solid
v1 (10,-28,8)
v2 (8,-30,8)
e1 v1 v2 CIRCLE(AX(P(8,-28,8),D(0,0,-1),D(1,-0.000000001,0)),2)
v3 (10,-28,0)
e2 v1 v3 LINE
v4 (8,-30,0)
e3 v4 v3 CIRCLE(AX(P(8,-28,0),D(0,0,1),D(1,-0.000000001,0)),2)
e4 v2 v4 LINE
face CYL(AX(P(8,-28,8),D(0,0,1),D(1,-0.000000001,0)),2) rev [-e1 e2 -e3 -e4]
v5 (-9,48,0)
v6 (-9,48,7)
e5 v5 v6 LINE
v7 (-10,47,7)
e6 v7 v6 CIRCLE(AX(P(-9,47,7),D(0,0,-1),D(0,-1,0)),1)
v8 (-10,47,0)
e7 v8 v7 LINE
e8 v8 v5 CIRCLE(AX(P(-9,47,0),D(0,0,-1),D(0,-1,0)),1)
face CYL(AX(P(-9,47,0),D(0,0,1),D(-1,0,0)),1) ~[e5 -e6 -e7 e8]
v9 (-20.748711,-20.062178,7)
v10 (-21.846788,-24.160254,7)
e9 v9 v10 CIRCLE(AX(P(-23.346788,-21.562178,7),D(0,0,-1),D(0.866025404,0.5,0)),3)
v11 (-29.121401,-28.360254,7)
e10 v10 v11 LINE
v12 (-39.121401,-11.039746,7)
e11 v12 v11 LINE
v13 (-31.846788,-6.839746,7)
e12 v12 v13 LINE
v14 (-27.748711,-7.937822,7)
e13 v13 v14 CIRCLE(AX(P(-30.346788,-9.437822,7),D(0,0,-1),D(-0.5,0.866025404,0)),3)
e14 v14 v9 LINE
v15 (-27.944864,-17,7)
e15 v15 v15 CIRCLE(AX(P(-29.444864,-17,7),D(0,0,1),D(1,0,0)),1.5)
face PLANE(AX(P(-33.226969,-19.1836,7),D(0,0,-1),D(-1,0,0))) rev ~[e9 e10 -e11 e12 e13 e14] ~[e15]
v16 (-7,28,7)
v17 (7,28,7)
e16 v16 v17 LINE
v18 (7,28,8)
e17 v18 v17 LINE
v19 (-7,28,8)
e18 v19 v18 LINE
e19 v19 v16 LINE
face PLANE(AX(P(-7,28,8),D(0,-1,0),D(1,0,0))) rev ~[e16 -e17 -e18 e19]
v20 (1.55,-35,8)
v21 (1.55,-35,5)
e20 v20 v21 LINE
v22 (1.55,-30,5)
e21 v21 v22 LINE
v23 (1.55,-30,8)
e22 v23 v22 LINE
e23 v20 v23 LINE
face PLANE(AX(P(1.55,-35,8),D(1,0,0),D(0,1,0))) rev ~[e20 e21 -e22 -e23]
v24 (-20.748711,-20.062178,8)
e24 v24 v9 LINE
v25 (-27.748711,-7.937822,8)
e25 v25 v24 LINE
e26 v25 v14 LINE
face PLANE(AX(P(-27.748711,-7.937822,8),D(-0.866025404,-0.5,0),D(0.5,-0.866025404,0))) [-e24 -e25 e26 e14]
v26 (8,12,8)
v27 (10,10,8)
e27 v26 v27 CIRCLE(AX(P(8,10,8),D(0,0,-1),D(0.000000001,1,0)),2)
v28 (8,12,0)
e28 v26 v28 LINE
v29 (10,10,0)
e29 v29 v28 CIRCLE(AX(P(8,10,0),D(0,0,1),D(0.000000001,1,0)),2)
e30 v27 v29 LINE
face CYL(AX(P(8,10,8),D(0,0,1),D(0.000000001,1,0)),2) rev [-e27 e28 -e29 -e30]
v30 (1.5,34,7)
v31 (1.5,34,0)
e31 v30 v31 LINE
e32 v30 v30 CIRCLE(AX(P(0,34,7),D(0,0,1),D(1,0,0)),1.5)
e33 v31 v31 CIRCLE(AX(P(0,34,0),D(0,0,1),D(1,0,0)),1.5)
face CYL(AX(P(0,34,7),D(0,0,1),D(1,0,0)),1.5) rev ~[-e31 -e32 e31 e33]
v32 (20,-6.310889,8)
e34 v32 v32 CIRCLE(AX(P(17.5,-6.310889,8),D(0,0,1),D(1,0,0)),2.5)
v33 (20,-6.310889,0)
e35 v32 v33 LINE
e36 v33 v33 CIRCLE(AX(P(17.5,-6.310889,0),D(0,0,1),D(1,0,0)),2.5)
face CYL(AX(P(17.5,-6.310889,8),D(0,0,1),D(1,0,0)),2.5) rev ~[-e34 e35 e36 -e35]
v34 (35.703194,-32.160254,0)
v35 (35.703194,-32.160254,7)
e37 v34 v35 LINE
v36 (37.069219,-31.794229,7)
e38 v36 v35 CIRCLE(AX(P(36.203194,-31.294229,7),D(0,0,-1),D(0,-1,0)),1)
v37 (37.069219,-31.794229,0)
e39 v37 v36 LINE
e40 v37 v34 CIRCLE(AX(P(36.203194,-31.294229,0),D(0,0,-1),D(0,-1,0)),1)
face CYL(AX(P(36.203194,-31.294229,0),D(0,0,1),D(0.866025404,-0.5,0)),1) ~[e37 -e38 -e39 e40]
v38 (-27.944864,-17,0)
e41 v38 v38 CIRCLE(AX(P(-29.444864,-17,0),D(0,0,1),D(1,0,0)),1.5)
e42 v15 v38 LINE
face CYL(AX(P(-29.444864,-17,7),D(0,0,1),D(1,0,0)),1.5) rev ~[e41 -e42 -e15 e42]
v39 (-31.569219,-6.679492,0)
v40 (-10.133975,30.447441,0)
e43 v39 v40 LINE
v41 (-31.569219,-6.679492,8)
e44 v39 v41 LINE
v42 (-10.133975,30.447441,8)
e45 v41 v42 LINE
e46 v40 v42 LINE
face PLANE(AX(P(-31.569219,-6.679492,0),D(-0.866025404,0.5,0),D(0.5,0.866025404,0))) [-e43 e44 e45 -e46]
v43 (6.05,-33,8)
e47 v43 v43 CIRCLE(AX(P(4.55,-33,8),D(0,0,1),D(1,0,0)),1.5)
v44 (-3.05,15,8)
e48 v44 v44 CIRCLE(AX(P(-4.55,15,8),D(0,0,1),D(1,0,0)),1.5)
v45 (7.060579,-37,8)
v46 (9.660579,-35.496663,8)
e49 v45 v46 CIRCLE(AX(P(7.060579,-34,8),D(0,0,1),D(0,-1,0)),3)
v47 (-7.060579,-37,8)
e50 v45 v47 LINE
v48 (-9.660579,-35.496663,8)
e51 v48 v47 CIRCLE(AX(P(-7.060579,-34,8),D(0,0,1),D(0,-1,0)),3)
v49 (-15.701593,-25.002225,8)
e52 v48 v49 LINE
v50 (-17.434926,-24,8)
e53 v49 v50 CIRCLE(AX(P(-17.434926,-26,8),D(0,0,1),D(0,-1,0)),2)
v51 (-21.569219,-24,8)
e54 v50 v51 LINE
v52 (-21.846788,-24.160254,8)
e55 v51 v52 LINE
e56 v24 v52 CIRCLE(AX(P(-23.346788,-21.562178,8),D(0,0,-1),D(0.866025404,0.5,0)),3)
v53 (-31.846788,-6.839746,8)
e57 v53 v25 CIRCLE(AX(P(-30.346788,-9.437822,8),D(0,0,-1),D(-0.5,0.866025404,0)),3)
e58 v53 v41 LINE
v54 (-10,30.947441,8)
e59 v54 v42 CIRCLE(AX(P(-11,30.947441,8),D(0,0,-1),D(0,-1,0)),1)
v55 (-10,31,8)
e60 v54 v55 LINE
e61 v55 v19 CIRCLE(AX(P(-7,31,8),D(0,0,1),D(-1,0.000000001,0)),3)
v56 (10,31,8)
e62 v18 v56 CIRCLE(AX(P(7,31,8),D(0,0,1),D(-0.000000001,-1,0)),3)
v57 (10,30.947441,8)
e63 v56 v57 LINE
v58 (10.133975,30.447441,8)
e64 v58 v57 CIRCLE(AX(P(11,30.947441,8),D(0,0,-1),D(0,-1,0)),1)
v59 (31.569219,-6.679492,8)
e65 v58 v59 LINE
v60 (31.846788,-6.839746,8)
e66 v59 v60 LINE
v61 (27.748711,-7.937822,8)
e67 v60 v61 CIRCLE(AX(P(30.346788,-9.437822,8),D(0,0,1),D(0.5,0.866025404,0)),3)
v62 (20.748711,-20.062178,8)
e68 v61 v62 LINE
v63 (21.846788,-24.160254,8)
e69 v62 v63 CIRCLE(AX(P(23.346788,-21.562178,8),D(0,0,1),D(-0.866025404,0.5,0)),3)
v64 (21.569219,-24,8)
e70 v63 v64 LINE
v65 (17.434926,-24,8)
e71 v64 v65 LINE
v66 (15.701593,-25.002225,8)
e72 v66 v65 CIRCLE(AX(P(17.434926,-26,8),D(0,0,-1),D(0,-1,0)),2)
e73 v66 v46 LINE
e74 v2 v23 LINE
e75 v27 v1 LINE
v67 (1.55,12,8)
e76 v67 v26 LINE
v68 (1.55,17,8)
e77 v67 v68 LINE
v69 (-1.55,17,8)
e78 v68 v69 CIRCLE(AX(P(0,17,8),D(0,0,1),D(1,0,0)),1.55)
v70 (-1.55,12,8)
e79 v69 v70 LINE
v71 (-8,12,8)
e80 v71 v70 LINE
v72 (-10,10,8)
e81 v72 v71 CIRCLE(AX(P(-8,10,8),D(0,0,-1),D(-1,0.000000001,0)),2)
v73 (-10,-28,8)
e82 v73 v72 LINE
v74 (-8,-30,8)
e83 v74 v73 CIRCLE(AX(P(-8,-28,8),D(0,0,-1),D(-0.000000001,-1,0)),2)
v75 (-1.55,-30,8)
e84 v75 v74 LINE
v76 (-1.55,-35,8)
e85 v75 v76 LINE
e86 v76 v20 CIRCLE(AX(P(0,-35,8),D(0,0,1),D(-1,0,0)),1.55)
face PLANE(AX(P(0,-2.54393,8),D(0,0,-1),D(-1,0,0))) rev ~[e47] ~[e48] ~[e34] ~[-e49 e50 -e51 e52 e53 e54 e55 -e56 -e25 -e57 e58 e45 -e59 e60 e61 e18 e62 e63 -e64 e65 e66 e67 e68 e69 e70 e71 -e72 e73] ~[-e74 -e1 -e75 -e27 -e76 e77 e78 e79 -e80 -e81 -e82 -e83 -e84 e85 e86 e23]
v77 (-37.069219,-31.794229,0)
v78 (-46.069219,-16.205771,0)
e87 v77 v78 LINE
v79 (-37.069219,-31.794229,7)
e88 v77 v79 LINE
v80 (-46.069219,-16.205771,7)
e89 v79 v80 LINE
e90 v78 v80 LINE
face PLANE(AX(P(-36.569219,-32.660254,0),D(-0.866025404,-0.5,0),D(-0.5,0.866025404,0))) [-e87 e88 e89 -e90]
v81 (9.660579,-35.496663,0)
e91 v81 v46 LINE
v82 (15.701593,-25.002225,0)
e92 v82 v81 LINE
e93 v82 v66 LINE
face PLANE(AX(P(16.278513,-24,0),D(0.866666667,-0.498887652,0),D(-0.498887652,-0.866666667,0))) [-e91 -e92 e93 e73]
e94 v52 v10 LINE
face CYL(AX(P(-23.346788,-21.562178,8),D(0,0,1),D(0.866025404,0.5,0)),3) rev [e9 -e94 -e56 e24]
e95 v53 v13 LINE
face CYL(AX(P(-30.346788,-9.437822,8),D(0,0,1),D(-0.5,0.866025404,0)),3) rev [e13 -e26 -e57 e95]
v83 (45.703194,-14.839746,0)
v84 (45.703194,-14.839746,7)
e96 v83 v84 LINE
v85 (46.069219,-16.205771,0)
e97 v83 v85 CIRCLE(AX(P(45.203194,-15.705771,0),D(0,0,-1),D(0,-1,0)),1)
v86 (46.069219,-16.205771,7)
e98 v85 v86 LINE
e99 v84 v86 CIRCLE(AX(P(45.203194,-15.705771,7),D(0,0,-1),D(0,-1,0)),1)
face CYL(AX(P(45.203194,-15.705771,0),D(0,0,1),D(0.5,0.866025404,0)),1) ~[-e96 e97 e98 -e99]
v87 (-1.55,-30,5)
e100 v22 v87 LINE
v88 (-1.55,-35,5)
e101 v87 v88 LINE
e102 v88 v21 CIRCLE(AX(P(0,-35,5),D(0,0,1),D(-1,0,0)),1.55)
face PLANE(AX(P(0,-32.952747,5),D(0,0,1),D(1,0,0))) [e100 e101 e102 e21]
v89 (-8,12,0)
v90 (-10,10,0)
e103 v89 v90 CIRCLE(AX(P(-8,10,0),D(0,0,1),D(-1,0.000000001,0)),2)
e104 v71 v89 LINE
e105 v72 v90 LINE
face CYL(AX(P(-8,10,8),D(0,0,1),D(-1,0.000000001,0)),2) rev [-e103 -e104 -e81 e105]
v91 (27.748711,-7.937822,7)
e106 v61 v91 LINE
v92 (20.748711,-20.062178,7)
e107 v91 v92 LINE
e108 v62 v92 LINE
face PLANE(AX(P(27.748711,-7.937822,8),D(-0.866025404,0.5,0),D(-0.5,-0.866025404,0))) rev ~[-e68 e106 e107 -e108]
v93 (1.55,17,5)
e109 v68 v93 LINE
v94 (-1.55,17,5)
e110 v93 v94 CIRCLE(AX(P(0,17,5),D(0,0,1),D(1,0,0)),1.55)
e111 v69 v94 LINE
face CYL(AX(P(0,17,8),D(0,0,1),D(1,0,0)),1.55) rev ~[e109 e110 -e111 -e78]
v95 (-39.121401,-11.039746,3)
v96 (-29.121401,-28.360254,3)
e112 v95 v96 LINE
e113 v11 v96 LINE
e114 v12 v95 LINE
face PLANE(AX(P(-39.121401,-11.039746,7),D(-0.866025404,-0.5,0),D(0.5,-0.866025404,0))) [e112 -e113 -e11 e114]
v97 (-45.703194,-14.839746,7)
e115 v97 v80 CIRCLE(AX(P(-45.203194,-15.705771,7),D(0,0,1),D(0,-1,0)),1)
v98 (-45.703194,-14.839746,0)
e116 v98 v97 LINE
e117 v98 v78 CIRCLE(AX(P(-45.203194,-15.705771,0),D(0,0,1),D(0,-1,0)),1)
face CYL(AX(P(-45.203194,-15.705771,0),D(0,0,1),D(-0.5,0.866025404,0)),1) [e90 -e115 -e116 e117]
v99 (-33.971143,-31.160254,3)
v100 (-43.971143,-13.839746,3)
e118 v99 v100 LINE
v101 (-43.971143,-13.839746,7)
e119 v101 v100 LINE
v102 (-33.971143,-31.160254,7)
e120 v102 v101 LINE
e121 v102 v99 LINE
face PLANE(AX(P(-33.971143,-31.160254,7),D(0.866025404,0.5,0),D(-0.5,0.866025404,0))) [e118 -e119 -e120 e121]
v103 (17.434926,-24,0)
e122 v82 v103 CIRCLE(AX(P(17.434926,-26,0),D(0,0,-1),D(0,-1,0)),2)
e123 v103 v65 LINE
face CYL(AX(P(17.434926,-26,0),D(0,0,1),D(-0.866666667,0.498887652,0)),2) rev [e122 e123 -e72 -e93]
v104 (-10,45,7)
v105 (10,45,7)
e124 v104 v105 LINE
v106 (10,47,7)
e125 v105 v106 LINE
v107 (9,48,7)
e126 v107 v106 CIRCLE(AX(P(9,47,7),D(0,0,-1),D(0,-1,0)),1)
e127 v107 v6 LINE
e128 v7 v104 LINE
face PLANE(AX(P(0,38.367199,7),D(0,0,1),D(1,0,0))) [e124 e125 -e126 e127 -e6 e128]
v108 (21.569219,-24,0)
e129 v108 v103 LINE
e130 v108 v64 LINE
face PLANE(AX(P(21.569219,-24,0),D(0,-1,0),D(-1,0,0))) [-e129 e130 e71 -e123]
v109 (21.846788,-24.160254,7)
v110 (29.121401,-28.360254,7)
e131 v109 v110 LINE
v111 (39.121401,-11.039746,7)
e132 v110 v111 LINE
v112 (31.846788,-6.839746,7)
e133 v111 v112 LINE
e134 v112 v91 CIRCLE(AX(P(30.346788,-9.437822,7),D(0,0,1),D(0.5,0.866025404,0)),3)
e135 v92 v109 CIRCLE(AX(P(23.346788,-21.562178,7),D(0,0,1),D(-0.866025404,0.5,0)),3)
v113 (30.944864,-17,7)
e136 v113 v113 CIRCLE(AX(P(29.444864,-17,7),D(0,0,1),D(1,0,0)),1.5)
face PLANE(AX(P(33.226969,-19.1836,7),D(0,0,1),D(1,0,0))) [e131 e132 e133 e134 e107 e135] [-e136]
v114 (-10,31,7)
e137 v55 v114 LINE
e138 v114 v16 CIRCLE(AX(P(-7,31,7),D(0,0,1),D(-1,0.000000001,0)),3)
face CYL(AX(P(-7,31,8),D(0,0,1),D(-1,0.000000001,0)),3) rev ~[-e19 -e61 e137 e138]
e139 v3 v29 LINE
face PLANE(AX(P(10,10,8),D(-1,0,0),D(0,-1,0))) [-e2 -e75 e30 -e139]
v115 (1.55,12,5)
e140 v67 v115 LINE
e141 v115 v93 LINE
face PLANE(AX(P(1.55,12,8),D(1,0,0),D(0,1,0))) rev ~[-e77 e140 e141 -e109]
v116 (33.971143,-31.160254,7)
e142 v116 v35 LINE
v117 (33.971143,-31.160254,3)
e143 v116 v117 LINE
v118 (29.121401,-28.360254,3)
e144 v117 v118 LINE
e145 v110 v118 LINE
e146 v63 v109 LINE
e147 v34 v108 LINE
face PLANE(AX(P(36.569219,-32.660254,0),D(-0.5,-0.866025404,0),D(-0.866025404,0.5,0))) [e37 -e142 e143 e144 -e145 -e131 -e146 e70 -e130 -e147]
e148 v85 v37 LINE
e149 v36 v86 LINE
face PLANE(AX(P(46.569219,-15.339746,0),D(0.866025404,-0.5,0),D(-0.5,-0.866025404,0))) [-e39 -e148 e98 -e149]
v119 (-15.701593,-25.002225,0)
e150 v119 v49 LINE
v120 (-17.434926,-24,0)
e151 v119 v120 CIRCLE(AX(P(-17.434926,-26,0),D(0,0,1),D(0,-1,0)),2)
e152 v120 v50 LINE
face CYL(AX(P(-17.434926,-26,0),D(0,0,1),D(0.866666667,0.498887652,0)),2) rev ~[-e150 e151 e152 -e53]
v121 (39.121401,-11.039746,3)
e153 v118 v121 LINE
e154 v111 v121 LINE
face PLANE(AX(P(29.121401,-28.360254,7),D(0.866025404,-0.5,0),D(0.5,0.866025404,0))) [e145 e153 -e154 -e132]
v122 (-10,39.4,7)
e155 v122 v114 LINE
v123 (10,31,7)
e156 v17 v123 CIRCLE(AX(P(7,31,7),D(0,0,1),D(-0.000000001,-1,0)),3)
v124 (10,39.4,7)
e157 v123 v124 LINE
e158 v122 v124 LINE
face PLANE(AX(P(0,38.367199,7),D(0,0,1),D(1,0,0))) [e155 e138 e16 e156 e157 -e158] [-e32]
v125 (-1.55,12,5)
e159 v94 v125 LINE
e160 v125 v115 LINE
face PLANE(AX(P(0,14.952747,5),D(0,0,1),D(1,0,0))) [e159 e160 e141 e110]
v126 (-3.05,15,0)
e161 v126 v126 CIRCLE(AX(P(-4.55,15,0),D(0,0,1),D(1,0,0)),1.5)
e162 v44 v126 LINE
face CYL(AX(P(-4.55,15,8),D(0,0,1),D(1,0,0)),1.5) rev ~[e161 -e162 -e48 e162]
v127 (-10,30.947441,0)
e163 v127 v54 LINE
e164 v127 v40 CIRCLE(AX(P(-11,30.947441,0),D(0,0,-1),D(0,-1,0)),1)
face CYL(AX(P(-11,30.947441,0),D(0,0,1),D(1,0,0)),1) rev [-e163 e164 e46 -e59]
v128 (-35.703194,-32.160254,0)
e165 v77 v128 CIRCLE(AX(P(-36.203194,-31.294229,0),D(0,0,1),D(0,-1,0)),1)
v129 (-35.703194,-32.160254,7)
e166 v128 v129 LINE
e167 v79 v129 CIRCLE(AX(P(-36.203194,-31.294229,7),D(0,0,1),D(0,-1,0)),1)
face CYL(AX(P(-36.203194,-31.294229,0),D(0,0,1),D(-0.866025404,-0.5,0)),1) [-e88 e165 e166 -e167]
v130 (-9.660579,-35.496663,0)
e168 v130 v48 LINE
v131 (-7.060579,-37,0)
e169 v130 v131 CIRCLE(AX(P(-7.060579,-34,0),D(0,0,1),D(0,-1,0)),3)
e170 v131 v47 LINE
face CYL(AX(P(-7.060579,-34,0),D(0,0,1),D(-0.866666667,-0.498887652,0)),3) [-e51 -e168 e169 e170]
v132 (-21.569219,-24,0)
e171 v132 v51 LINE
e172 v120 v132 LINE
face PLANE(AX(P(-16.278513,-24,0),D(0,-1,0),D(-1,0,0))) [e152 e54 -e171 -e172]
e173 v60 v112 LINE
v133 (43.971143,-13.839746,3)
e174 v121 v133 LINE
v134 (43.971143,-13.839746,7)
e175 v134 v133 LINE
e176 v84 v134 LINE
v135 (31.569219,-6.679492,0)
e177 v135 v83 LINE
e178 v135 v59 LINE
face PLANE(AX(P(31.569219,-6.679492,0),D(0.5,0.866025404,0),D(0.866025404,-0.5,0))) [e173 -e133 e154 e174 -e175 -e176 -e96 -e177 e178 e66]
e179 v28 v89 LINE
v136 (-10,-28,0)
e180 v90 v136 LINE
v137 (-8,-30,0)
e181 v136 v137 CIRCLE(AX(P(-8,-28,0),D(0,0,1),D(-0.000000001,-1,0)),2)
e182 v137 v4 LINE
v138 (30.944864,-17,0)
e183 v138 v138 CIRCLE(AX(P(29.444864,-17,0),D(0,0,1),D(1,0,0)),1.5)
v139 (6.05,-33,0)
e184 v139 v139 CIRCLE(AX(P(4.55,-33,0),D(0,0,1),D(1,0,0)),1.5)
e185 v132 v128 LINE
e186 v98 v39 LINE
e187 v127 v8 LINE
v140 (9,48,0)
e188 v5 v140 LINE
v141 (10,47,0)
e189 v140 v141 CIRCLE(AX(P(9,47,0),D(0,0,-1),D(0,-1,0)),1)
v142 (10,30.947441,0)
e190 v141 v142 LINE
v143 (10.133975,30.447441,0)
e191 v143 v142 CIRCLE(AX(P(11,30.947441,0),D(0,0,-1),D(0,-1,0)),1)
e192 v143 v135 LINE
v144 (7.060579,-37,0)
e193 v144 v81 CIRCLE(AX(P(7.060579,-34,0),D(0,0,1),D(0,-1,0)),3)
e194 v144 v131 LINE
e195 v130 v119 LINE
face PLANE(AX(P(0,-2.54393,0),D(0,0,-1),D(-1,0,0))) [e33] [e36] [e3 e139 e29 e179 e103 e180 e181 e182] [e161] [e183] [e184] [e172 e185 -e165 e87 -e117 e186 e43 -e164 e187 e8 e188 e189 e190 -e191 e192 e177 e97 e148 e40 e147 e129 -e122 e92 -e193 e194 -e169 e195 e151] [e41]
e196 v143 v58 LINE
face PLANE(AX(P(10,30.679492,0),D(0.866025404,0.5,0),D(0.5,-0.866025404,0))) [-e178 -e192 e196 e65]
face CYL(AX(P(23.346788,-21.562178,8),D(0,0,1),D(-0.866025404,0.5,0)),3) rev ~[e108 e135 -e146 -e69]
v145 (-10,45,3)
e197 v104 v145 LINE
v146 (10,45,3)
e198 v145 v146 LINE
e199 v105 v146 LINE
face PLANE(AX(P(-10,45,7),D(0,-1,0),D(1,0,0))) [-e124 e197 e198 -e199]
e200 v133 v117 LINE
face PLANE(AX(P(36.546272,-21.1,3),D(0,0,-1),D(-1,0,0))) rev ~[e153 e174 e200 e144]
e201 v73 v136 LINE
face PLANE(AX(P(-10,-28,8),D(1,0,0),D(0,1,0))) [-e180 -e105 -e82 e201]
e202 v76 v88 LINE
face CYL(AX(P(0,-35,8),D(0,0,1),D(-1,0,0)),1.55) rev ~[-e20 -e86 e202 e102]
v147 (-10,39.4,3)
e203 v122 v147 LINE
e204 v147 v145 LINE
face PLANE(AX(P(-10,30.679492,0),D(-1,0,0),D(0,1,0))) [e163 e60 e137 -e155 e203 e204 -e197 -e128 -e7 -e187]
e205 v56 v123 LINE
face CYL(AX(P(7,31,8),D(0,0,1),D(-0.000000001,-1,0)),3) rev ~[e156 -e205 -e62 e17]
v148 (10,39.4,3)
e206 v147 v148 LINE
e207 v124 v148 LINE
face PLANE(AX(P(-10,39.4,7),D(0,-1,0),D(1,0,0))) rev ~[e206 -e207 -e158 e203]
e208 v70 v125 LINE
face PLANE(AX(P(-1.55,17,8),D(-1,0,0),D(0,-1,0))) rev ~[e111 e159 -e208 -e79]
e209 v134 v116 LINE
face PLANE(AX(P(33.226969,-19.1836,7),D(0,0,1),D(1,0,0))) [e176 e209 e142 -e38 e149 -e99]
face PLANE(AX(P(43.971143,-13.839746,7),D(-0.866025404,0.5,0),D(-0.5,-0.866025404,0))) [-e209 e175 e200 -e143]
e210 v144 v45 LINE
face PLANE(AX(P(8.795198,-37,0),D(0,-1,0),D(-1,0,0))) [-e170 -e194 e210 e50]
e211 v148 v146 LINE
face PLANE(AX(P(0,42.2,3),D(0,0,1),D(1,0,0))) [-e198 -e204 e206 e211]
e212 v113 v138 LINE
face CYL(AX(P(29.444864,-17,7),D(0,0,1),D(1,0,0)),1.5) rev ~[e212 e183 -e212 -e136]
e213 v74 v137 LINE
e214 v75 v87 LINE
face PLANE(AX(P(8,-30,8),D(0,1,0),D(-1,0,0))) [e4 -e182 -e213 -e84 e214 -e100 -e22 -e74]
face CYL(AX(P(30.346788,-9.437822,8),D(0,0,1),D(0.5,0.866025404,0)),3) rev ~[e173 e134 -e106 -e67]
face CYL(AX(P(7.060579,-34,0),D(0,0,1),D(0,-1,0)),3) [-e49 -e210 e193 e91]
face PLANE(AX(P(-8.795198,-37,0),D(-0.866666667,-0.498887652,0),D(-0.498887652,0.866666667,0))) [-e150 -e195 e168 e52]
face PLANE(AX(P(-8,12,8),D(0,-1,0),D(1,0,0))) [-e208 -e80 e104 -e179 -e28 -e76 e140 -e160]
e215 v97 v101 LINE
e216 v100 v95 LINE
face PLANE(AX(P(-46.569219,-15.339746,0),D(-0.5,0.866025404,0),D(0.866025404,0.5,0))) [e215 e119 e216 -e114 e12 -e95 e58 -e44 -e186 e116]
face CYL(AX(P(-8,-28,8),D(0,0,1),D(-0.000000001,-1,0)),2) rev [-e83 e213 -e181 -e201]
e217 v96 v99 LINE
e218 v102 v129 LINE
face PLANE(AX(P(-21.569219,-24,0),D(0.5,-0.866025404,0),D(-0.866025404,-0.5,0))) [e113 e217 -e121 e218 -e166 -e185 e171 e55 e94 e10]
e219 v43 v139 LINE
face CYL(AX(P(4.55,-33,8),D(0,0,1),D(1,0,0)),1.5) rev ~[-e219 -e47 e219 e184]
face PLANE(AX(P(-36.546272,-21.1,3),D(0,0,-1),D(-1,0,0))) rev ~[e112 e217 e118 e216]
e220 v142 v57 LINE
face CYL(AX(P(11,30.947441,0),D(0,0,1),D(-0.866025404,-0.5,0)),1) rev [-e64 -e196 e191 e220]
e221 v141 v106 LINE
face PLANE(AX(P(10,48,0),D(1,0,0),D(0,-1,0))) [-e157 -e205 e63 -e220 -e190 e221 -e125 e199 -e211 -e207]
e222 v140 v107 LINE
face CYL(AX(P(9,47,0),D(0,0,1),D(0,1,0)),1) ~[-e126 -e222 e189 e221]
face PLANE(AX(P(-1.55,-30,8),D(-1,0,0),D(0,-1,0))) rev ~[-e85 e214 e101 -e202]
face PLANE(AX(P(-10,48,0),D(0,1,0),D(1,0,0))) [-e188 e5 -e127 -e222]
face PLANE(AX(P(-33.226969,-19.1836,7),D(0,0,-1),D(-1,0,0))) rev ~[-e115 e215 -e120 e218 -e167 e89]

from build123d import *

# Parameters (mm, degrees)
BOSS_EXTRUDE1_DEPTH = 8
CUT_EXTRUDE1_DEPTH  = 1
SKETCH3_R           = 1.5
CUT_EXTRUDE2_DEPTH  = 68.243529011
SKETCH4_W           = 20
SKETCH4_H           = 5.6
CUT_EXTRUDE3_DEPTH  = 4
SKETCH5_R           = 1.5
SKETCH5_R_2         = 2.5
CUT_EXTRUDE5_DEPTH  = 68.35497156
CUT_EXTRUDE6_DEPTH  = 3
FILLET1_R           = 1
FILLET2_R           = 3
FILLET3_R           = 2
FILLET4_R           = 1
FILLET6_R           = 1


with BuildPart() as part:
    # Sketch1 → Boss-Extrude1 (new body)
    with BuildSketch(Plane.XY):
        Polygon((-10, 30.679491924), (-10, 48), (10, 48), (10, 30.679491924), (31.569219382, -6.679491924), (46.569219382, -15.339745962), (36.569219382, -32.660254038), (21.569219382, -24), (16.278513086, -24), (8.795198312, -37), (-8.795198312, -37), (-16.278513086, -24), (-21.569219382, -24), (-36.569219382, -32.660254038), (-46.569219382, -15.339745962), (-31.569219382, -6.679491924), align=None)
    extrude(amount=BOSS_EXTRUDE1_DEPTH)

    # Sketch2 → Cut-Extrude1 (cut)
    with BuildSketch(Plane.XY.offset(8)):
        with BuildLine():
            Line((-36.569219382, -32.660254038), (-46.569219382, -15.339745962))
            Line((-46.569219382, -15.339745962), (-31.846787517, -6.839745962))
            ThreePointArc((-31.846787517, -6.839745962), (-29.570330382, -6.540044695), (-27.748711306, -7.937822174))
            Line((-27.748711306, -7.937822174), (-20.748711306, -20.062177826))
            ThreePointArc((-20.748711306, -20.062177826), (-20.449010038, -22.338634962), (-21.846787517, -24.160254038))
            Line((-21.846787517, -24.160254038), (-36.569219382, -32.660254038))
        make_face()
        with BuildLine():
            Line((-7, 28), (7, 28))
            ThreePointArc((7, 28), (9.121320344, 28.878679656), (10, 31))
            Line((10, 31), (10, 48))
            Line((10, 48), (-10, 48))
            Line((-10, 48), (-10, 31))
            ThreePointArc((-10, 31), (-9.121320344, 28.878679656), (-7, 28))
        make_face()
        with BuildLine():
            Line((36.569219382, -32.660254038), (46.569219382, -15.339745962))
            Line((46.569219382, -15.339745962), (31.846787517, -6.839745962))
            ThreePointArc((31.846787517, -6.839745962), (29.570330382, -6.540044695), (27.748711306, -7.937822174))
            Line((27.748711306, -7.937822174), (20.748711306, -20.062177826))
            ThreePointArc((20.748711306, -20.062177826), (20.449010038, -22.338634962), (21.846787517, -24.160254038))
            Line((21.846787517, -24.160254038), (36.569219382, -32.660254038))
        make_face()
    extrude(amount=-CUT_EXTRUDE1_DEPTH, mode=Mode.SUBTRACT)

    # Sketch3 → Cut-Extrude2 (cut, through all)
    with BuildSketch(Plane.XY.offset(7)):
        with Locations((0, 34)):
            Circle(SKETCH3_R)
        with Locations((29.444863729, -17)):
            Circle(SKETCH3_R)
        with Locations((-29.444863729, -17)):
            Circle(SKETCH3_R)
    extrude(amount=-CUT_EXTRUDE2_DEPTH, mode=Mode.SUBTRACT)

    # Sketch4 → Cut-Extrude3 (cut)
    with BuildSketch(Plane.XY.offset(7)):
        with Locations((0, 42.2)):
            Rectangle(SKETCH4_W, SKETCH4_H)
        Polygon((39.121400909, -11.039745962), (43.97114317, -13.839745962), (33.97114317, -31.160254038), (29.121400909, -28.360254038), align=None)
        Polygon((-43.97114317, -13.839745962), (-39.121400909, -11.039745962), (-29.121400909, -28.360254038), (-33.97114317, -31.160254038), align=None)
    extrude(amount=-CUT_EXTRUDE3_DEPTH, mode=Mode.SUBTRACT)

    # Sketch5 → Cut-Extrude5 (cut, through all)
    with BuildSketch(Plane.XY.offset(8)):
        with BuildLine():
            ThreePointArc((-10, -28), (-9.414213562, -29.414213562), (-8, -30))
            Line((-8, -30), (8, -30))
            ThreePointArc((8, -30), (9.414213562, -29.414213562), (10, -28))
            Line((10, -28), (10, 10))
            ThreePointArc((10, 10), (9.414213562, 11.414213562), (8, 12))
            Line((8, 12), (-8, 12))
            ThreePointArc((-8, 12), (-9.414213562, 11.414213562), (-10, 10))
            Line((-10, 10), (-10, -28))
        make_face()
        with Locations((4.55, -33)):
            Circle(SKETCH5_R)
        with Locations((-4.55, 15)):
            Circle(SKETCH5_R)
        with Locations((17.5, -6.310889132)):
            Circle(SKETCH5_R_2)
    extrude(amount=-CUT_EXTRUDE5_DEPTH, mode=Mode.SUBTRACT)

    # Sketch5<3> → Cut-Extrude6 (cut)
    with BuildSketch(Plane.XY.offset(8)):
        with BuildLine():
            Line((1.55, -30), (-1.55, -30))
            Line((-1.55, -30), (-1.55, -35))
            ThreePointArc((-1.55, -35), (0, -36.55), (1.55, -35))
            Line((1.55, -35), (1.55, -30))
        make_face()
        with BuildLine():
            Line((-1.55, 17), (-1.55, 12))
            Line((-1.55, 12), (1.55, 12))
            Line((1.55, 12), (1.55, 17))
            ThreePointArc((1.55, 17), (0, 18.55), (-1.55, 17))
        make_face()
    extrude(amount=-CUT_EXTRUDE6_DEPTH, mode=Mode.SUBTRACT)

    # Fillet1
    fillet1_edges = [part.edges().sort_by_distance(p)[0] for p in [
        (10, 48, 3.5),
        (-10, 48, 3.5),
        (-36.569219382, -32.660254038, 3.5),
        (-46.569219382, -15.339745962, 3.5),
        (36.569219382, -32.660254038, 3.5),
        (46.569219382, -15.339745962, 3.5),
    ]]
    fillet(fillet1_edges, radius=FILLET1_R)

    # Fillet2
    fillet2_edges = [part.edges().sort_by_distance(p)[0] for p in [
        (-8.795198312, -37, 4),
        (8.795198312, -37, 4),
    ]]
    fillet(fillet2_edges, radius=FILLET2_R)

    # Fillet3
    fillet3_edges = [part.edges().sort_by_distance(p)[0] for p in [
        (16.278513086, -24, 4),
        (-16.278513086, -24, 4),
    ]]
    fillet(fillet3_edges, radius=FILLET3_R)

    # Fillet4
    fillet4_edges = [part.edges().sort_by_distance(p)[0] for p in [
        (10, 30.679491924, 4),
    ]]
    fillet(fillet4_edges, radius=FILLET4_R)

    # Fillet6
    fillet6_edges = [part.edges().sort_by_distance(p)[0] for p in [
        (-10, 30.679491924, 4),
    ]]
    fillet(fillet6_edges, radius=FILLET6_R)


solid = part.part
